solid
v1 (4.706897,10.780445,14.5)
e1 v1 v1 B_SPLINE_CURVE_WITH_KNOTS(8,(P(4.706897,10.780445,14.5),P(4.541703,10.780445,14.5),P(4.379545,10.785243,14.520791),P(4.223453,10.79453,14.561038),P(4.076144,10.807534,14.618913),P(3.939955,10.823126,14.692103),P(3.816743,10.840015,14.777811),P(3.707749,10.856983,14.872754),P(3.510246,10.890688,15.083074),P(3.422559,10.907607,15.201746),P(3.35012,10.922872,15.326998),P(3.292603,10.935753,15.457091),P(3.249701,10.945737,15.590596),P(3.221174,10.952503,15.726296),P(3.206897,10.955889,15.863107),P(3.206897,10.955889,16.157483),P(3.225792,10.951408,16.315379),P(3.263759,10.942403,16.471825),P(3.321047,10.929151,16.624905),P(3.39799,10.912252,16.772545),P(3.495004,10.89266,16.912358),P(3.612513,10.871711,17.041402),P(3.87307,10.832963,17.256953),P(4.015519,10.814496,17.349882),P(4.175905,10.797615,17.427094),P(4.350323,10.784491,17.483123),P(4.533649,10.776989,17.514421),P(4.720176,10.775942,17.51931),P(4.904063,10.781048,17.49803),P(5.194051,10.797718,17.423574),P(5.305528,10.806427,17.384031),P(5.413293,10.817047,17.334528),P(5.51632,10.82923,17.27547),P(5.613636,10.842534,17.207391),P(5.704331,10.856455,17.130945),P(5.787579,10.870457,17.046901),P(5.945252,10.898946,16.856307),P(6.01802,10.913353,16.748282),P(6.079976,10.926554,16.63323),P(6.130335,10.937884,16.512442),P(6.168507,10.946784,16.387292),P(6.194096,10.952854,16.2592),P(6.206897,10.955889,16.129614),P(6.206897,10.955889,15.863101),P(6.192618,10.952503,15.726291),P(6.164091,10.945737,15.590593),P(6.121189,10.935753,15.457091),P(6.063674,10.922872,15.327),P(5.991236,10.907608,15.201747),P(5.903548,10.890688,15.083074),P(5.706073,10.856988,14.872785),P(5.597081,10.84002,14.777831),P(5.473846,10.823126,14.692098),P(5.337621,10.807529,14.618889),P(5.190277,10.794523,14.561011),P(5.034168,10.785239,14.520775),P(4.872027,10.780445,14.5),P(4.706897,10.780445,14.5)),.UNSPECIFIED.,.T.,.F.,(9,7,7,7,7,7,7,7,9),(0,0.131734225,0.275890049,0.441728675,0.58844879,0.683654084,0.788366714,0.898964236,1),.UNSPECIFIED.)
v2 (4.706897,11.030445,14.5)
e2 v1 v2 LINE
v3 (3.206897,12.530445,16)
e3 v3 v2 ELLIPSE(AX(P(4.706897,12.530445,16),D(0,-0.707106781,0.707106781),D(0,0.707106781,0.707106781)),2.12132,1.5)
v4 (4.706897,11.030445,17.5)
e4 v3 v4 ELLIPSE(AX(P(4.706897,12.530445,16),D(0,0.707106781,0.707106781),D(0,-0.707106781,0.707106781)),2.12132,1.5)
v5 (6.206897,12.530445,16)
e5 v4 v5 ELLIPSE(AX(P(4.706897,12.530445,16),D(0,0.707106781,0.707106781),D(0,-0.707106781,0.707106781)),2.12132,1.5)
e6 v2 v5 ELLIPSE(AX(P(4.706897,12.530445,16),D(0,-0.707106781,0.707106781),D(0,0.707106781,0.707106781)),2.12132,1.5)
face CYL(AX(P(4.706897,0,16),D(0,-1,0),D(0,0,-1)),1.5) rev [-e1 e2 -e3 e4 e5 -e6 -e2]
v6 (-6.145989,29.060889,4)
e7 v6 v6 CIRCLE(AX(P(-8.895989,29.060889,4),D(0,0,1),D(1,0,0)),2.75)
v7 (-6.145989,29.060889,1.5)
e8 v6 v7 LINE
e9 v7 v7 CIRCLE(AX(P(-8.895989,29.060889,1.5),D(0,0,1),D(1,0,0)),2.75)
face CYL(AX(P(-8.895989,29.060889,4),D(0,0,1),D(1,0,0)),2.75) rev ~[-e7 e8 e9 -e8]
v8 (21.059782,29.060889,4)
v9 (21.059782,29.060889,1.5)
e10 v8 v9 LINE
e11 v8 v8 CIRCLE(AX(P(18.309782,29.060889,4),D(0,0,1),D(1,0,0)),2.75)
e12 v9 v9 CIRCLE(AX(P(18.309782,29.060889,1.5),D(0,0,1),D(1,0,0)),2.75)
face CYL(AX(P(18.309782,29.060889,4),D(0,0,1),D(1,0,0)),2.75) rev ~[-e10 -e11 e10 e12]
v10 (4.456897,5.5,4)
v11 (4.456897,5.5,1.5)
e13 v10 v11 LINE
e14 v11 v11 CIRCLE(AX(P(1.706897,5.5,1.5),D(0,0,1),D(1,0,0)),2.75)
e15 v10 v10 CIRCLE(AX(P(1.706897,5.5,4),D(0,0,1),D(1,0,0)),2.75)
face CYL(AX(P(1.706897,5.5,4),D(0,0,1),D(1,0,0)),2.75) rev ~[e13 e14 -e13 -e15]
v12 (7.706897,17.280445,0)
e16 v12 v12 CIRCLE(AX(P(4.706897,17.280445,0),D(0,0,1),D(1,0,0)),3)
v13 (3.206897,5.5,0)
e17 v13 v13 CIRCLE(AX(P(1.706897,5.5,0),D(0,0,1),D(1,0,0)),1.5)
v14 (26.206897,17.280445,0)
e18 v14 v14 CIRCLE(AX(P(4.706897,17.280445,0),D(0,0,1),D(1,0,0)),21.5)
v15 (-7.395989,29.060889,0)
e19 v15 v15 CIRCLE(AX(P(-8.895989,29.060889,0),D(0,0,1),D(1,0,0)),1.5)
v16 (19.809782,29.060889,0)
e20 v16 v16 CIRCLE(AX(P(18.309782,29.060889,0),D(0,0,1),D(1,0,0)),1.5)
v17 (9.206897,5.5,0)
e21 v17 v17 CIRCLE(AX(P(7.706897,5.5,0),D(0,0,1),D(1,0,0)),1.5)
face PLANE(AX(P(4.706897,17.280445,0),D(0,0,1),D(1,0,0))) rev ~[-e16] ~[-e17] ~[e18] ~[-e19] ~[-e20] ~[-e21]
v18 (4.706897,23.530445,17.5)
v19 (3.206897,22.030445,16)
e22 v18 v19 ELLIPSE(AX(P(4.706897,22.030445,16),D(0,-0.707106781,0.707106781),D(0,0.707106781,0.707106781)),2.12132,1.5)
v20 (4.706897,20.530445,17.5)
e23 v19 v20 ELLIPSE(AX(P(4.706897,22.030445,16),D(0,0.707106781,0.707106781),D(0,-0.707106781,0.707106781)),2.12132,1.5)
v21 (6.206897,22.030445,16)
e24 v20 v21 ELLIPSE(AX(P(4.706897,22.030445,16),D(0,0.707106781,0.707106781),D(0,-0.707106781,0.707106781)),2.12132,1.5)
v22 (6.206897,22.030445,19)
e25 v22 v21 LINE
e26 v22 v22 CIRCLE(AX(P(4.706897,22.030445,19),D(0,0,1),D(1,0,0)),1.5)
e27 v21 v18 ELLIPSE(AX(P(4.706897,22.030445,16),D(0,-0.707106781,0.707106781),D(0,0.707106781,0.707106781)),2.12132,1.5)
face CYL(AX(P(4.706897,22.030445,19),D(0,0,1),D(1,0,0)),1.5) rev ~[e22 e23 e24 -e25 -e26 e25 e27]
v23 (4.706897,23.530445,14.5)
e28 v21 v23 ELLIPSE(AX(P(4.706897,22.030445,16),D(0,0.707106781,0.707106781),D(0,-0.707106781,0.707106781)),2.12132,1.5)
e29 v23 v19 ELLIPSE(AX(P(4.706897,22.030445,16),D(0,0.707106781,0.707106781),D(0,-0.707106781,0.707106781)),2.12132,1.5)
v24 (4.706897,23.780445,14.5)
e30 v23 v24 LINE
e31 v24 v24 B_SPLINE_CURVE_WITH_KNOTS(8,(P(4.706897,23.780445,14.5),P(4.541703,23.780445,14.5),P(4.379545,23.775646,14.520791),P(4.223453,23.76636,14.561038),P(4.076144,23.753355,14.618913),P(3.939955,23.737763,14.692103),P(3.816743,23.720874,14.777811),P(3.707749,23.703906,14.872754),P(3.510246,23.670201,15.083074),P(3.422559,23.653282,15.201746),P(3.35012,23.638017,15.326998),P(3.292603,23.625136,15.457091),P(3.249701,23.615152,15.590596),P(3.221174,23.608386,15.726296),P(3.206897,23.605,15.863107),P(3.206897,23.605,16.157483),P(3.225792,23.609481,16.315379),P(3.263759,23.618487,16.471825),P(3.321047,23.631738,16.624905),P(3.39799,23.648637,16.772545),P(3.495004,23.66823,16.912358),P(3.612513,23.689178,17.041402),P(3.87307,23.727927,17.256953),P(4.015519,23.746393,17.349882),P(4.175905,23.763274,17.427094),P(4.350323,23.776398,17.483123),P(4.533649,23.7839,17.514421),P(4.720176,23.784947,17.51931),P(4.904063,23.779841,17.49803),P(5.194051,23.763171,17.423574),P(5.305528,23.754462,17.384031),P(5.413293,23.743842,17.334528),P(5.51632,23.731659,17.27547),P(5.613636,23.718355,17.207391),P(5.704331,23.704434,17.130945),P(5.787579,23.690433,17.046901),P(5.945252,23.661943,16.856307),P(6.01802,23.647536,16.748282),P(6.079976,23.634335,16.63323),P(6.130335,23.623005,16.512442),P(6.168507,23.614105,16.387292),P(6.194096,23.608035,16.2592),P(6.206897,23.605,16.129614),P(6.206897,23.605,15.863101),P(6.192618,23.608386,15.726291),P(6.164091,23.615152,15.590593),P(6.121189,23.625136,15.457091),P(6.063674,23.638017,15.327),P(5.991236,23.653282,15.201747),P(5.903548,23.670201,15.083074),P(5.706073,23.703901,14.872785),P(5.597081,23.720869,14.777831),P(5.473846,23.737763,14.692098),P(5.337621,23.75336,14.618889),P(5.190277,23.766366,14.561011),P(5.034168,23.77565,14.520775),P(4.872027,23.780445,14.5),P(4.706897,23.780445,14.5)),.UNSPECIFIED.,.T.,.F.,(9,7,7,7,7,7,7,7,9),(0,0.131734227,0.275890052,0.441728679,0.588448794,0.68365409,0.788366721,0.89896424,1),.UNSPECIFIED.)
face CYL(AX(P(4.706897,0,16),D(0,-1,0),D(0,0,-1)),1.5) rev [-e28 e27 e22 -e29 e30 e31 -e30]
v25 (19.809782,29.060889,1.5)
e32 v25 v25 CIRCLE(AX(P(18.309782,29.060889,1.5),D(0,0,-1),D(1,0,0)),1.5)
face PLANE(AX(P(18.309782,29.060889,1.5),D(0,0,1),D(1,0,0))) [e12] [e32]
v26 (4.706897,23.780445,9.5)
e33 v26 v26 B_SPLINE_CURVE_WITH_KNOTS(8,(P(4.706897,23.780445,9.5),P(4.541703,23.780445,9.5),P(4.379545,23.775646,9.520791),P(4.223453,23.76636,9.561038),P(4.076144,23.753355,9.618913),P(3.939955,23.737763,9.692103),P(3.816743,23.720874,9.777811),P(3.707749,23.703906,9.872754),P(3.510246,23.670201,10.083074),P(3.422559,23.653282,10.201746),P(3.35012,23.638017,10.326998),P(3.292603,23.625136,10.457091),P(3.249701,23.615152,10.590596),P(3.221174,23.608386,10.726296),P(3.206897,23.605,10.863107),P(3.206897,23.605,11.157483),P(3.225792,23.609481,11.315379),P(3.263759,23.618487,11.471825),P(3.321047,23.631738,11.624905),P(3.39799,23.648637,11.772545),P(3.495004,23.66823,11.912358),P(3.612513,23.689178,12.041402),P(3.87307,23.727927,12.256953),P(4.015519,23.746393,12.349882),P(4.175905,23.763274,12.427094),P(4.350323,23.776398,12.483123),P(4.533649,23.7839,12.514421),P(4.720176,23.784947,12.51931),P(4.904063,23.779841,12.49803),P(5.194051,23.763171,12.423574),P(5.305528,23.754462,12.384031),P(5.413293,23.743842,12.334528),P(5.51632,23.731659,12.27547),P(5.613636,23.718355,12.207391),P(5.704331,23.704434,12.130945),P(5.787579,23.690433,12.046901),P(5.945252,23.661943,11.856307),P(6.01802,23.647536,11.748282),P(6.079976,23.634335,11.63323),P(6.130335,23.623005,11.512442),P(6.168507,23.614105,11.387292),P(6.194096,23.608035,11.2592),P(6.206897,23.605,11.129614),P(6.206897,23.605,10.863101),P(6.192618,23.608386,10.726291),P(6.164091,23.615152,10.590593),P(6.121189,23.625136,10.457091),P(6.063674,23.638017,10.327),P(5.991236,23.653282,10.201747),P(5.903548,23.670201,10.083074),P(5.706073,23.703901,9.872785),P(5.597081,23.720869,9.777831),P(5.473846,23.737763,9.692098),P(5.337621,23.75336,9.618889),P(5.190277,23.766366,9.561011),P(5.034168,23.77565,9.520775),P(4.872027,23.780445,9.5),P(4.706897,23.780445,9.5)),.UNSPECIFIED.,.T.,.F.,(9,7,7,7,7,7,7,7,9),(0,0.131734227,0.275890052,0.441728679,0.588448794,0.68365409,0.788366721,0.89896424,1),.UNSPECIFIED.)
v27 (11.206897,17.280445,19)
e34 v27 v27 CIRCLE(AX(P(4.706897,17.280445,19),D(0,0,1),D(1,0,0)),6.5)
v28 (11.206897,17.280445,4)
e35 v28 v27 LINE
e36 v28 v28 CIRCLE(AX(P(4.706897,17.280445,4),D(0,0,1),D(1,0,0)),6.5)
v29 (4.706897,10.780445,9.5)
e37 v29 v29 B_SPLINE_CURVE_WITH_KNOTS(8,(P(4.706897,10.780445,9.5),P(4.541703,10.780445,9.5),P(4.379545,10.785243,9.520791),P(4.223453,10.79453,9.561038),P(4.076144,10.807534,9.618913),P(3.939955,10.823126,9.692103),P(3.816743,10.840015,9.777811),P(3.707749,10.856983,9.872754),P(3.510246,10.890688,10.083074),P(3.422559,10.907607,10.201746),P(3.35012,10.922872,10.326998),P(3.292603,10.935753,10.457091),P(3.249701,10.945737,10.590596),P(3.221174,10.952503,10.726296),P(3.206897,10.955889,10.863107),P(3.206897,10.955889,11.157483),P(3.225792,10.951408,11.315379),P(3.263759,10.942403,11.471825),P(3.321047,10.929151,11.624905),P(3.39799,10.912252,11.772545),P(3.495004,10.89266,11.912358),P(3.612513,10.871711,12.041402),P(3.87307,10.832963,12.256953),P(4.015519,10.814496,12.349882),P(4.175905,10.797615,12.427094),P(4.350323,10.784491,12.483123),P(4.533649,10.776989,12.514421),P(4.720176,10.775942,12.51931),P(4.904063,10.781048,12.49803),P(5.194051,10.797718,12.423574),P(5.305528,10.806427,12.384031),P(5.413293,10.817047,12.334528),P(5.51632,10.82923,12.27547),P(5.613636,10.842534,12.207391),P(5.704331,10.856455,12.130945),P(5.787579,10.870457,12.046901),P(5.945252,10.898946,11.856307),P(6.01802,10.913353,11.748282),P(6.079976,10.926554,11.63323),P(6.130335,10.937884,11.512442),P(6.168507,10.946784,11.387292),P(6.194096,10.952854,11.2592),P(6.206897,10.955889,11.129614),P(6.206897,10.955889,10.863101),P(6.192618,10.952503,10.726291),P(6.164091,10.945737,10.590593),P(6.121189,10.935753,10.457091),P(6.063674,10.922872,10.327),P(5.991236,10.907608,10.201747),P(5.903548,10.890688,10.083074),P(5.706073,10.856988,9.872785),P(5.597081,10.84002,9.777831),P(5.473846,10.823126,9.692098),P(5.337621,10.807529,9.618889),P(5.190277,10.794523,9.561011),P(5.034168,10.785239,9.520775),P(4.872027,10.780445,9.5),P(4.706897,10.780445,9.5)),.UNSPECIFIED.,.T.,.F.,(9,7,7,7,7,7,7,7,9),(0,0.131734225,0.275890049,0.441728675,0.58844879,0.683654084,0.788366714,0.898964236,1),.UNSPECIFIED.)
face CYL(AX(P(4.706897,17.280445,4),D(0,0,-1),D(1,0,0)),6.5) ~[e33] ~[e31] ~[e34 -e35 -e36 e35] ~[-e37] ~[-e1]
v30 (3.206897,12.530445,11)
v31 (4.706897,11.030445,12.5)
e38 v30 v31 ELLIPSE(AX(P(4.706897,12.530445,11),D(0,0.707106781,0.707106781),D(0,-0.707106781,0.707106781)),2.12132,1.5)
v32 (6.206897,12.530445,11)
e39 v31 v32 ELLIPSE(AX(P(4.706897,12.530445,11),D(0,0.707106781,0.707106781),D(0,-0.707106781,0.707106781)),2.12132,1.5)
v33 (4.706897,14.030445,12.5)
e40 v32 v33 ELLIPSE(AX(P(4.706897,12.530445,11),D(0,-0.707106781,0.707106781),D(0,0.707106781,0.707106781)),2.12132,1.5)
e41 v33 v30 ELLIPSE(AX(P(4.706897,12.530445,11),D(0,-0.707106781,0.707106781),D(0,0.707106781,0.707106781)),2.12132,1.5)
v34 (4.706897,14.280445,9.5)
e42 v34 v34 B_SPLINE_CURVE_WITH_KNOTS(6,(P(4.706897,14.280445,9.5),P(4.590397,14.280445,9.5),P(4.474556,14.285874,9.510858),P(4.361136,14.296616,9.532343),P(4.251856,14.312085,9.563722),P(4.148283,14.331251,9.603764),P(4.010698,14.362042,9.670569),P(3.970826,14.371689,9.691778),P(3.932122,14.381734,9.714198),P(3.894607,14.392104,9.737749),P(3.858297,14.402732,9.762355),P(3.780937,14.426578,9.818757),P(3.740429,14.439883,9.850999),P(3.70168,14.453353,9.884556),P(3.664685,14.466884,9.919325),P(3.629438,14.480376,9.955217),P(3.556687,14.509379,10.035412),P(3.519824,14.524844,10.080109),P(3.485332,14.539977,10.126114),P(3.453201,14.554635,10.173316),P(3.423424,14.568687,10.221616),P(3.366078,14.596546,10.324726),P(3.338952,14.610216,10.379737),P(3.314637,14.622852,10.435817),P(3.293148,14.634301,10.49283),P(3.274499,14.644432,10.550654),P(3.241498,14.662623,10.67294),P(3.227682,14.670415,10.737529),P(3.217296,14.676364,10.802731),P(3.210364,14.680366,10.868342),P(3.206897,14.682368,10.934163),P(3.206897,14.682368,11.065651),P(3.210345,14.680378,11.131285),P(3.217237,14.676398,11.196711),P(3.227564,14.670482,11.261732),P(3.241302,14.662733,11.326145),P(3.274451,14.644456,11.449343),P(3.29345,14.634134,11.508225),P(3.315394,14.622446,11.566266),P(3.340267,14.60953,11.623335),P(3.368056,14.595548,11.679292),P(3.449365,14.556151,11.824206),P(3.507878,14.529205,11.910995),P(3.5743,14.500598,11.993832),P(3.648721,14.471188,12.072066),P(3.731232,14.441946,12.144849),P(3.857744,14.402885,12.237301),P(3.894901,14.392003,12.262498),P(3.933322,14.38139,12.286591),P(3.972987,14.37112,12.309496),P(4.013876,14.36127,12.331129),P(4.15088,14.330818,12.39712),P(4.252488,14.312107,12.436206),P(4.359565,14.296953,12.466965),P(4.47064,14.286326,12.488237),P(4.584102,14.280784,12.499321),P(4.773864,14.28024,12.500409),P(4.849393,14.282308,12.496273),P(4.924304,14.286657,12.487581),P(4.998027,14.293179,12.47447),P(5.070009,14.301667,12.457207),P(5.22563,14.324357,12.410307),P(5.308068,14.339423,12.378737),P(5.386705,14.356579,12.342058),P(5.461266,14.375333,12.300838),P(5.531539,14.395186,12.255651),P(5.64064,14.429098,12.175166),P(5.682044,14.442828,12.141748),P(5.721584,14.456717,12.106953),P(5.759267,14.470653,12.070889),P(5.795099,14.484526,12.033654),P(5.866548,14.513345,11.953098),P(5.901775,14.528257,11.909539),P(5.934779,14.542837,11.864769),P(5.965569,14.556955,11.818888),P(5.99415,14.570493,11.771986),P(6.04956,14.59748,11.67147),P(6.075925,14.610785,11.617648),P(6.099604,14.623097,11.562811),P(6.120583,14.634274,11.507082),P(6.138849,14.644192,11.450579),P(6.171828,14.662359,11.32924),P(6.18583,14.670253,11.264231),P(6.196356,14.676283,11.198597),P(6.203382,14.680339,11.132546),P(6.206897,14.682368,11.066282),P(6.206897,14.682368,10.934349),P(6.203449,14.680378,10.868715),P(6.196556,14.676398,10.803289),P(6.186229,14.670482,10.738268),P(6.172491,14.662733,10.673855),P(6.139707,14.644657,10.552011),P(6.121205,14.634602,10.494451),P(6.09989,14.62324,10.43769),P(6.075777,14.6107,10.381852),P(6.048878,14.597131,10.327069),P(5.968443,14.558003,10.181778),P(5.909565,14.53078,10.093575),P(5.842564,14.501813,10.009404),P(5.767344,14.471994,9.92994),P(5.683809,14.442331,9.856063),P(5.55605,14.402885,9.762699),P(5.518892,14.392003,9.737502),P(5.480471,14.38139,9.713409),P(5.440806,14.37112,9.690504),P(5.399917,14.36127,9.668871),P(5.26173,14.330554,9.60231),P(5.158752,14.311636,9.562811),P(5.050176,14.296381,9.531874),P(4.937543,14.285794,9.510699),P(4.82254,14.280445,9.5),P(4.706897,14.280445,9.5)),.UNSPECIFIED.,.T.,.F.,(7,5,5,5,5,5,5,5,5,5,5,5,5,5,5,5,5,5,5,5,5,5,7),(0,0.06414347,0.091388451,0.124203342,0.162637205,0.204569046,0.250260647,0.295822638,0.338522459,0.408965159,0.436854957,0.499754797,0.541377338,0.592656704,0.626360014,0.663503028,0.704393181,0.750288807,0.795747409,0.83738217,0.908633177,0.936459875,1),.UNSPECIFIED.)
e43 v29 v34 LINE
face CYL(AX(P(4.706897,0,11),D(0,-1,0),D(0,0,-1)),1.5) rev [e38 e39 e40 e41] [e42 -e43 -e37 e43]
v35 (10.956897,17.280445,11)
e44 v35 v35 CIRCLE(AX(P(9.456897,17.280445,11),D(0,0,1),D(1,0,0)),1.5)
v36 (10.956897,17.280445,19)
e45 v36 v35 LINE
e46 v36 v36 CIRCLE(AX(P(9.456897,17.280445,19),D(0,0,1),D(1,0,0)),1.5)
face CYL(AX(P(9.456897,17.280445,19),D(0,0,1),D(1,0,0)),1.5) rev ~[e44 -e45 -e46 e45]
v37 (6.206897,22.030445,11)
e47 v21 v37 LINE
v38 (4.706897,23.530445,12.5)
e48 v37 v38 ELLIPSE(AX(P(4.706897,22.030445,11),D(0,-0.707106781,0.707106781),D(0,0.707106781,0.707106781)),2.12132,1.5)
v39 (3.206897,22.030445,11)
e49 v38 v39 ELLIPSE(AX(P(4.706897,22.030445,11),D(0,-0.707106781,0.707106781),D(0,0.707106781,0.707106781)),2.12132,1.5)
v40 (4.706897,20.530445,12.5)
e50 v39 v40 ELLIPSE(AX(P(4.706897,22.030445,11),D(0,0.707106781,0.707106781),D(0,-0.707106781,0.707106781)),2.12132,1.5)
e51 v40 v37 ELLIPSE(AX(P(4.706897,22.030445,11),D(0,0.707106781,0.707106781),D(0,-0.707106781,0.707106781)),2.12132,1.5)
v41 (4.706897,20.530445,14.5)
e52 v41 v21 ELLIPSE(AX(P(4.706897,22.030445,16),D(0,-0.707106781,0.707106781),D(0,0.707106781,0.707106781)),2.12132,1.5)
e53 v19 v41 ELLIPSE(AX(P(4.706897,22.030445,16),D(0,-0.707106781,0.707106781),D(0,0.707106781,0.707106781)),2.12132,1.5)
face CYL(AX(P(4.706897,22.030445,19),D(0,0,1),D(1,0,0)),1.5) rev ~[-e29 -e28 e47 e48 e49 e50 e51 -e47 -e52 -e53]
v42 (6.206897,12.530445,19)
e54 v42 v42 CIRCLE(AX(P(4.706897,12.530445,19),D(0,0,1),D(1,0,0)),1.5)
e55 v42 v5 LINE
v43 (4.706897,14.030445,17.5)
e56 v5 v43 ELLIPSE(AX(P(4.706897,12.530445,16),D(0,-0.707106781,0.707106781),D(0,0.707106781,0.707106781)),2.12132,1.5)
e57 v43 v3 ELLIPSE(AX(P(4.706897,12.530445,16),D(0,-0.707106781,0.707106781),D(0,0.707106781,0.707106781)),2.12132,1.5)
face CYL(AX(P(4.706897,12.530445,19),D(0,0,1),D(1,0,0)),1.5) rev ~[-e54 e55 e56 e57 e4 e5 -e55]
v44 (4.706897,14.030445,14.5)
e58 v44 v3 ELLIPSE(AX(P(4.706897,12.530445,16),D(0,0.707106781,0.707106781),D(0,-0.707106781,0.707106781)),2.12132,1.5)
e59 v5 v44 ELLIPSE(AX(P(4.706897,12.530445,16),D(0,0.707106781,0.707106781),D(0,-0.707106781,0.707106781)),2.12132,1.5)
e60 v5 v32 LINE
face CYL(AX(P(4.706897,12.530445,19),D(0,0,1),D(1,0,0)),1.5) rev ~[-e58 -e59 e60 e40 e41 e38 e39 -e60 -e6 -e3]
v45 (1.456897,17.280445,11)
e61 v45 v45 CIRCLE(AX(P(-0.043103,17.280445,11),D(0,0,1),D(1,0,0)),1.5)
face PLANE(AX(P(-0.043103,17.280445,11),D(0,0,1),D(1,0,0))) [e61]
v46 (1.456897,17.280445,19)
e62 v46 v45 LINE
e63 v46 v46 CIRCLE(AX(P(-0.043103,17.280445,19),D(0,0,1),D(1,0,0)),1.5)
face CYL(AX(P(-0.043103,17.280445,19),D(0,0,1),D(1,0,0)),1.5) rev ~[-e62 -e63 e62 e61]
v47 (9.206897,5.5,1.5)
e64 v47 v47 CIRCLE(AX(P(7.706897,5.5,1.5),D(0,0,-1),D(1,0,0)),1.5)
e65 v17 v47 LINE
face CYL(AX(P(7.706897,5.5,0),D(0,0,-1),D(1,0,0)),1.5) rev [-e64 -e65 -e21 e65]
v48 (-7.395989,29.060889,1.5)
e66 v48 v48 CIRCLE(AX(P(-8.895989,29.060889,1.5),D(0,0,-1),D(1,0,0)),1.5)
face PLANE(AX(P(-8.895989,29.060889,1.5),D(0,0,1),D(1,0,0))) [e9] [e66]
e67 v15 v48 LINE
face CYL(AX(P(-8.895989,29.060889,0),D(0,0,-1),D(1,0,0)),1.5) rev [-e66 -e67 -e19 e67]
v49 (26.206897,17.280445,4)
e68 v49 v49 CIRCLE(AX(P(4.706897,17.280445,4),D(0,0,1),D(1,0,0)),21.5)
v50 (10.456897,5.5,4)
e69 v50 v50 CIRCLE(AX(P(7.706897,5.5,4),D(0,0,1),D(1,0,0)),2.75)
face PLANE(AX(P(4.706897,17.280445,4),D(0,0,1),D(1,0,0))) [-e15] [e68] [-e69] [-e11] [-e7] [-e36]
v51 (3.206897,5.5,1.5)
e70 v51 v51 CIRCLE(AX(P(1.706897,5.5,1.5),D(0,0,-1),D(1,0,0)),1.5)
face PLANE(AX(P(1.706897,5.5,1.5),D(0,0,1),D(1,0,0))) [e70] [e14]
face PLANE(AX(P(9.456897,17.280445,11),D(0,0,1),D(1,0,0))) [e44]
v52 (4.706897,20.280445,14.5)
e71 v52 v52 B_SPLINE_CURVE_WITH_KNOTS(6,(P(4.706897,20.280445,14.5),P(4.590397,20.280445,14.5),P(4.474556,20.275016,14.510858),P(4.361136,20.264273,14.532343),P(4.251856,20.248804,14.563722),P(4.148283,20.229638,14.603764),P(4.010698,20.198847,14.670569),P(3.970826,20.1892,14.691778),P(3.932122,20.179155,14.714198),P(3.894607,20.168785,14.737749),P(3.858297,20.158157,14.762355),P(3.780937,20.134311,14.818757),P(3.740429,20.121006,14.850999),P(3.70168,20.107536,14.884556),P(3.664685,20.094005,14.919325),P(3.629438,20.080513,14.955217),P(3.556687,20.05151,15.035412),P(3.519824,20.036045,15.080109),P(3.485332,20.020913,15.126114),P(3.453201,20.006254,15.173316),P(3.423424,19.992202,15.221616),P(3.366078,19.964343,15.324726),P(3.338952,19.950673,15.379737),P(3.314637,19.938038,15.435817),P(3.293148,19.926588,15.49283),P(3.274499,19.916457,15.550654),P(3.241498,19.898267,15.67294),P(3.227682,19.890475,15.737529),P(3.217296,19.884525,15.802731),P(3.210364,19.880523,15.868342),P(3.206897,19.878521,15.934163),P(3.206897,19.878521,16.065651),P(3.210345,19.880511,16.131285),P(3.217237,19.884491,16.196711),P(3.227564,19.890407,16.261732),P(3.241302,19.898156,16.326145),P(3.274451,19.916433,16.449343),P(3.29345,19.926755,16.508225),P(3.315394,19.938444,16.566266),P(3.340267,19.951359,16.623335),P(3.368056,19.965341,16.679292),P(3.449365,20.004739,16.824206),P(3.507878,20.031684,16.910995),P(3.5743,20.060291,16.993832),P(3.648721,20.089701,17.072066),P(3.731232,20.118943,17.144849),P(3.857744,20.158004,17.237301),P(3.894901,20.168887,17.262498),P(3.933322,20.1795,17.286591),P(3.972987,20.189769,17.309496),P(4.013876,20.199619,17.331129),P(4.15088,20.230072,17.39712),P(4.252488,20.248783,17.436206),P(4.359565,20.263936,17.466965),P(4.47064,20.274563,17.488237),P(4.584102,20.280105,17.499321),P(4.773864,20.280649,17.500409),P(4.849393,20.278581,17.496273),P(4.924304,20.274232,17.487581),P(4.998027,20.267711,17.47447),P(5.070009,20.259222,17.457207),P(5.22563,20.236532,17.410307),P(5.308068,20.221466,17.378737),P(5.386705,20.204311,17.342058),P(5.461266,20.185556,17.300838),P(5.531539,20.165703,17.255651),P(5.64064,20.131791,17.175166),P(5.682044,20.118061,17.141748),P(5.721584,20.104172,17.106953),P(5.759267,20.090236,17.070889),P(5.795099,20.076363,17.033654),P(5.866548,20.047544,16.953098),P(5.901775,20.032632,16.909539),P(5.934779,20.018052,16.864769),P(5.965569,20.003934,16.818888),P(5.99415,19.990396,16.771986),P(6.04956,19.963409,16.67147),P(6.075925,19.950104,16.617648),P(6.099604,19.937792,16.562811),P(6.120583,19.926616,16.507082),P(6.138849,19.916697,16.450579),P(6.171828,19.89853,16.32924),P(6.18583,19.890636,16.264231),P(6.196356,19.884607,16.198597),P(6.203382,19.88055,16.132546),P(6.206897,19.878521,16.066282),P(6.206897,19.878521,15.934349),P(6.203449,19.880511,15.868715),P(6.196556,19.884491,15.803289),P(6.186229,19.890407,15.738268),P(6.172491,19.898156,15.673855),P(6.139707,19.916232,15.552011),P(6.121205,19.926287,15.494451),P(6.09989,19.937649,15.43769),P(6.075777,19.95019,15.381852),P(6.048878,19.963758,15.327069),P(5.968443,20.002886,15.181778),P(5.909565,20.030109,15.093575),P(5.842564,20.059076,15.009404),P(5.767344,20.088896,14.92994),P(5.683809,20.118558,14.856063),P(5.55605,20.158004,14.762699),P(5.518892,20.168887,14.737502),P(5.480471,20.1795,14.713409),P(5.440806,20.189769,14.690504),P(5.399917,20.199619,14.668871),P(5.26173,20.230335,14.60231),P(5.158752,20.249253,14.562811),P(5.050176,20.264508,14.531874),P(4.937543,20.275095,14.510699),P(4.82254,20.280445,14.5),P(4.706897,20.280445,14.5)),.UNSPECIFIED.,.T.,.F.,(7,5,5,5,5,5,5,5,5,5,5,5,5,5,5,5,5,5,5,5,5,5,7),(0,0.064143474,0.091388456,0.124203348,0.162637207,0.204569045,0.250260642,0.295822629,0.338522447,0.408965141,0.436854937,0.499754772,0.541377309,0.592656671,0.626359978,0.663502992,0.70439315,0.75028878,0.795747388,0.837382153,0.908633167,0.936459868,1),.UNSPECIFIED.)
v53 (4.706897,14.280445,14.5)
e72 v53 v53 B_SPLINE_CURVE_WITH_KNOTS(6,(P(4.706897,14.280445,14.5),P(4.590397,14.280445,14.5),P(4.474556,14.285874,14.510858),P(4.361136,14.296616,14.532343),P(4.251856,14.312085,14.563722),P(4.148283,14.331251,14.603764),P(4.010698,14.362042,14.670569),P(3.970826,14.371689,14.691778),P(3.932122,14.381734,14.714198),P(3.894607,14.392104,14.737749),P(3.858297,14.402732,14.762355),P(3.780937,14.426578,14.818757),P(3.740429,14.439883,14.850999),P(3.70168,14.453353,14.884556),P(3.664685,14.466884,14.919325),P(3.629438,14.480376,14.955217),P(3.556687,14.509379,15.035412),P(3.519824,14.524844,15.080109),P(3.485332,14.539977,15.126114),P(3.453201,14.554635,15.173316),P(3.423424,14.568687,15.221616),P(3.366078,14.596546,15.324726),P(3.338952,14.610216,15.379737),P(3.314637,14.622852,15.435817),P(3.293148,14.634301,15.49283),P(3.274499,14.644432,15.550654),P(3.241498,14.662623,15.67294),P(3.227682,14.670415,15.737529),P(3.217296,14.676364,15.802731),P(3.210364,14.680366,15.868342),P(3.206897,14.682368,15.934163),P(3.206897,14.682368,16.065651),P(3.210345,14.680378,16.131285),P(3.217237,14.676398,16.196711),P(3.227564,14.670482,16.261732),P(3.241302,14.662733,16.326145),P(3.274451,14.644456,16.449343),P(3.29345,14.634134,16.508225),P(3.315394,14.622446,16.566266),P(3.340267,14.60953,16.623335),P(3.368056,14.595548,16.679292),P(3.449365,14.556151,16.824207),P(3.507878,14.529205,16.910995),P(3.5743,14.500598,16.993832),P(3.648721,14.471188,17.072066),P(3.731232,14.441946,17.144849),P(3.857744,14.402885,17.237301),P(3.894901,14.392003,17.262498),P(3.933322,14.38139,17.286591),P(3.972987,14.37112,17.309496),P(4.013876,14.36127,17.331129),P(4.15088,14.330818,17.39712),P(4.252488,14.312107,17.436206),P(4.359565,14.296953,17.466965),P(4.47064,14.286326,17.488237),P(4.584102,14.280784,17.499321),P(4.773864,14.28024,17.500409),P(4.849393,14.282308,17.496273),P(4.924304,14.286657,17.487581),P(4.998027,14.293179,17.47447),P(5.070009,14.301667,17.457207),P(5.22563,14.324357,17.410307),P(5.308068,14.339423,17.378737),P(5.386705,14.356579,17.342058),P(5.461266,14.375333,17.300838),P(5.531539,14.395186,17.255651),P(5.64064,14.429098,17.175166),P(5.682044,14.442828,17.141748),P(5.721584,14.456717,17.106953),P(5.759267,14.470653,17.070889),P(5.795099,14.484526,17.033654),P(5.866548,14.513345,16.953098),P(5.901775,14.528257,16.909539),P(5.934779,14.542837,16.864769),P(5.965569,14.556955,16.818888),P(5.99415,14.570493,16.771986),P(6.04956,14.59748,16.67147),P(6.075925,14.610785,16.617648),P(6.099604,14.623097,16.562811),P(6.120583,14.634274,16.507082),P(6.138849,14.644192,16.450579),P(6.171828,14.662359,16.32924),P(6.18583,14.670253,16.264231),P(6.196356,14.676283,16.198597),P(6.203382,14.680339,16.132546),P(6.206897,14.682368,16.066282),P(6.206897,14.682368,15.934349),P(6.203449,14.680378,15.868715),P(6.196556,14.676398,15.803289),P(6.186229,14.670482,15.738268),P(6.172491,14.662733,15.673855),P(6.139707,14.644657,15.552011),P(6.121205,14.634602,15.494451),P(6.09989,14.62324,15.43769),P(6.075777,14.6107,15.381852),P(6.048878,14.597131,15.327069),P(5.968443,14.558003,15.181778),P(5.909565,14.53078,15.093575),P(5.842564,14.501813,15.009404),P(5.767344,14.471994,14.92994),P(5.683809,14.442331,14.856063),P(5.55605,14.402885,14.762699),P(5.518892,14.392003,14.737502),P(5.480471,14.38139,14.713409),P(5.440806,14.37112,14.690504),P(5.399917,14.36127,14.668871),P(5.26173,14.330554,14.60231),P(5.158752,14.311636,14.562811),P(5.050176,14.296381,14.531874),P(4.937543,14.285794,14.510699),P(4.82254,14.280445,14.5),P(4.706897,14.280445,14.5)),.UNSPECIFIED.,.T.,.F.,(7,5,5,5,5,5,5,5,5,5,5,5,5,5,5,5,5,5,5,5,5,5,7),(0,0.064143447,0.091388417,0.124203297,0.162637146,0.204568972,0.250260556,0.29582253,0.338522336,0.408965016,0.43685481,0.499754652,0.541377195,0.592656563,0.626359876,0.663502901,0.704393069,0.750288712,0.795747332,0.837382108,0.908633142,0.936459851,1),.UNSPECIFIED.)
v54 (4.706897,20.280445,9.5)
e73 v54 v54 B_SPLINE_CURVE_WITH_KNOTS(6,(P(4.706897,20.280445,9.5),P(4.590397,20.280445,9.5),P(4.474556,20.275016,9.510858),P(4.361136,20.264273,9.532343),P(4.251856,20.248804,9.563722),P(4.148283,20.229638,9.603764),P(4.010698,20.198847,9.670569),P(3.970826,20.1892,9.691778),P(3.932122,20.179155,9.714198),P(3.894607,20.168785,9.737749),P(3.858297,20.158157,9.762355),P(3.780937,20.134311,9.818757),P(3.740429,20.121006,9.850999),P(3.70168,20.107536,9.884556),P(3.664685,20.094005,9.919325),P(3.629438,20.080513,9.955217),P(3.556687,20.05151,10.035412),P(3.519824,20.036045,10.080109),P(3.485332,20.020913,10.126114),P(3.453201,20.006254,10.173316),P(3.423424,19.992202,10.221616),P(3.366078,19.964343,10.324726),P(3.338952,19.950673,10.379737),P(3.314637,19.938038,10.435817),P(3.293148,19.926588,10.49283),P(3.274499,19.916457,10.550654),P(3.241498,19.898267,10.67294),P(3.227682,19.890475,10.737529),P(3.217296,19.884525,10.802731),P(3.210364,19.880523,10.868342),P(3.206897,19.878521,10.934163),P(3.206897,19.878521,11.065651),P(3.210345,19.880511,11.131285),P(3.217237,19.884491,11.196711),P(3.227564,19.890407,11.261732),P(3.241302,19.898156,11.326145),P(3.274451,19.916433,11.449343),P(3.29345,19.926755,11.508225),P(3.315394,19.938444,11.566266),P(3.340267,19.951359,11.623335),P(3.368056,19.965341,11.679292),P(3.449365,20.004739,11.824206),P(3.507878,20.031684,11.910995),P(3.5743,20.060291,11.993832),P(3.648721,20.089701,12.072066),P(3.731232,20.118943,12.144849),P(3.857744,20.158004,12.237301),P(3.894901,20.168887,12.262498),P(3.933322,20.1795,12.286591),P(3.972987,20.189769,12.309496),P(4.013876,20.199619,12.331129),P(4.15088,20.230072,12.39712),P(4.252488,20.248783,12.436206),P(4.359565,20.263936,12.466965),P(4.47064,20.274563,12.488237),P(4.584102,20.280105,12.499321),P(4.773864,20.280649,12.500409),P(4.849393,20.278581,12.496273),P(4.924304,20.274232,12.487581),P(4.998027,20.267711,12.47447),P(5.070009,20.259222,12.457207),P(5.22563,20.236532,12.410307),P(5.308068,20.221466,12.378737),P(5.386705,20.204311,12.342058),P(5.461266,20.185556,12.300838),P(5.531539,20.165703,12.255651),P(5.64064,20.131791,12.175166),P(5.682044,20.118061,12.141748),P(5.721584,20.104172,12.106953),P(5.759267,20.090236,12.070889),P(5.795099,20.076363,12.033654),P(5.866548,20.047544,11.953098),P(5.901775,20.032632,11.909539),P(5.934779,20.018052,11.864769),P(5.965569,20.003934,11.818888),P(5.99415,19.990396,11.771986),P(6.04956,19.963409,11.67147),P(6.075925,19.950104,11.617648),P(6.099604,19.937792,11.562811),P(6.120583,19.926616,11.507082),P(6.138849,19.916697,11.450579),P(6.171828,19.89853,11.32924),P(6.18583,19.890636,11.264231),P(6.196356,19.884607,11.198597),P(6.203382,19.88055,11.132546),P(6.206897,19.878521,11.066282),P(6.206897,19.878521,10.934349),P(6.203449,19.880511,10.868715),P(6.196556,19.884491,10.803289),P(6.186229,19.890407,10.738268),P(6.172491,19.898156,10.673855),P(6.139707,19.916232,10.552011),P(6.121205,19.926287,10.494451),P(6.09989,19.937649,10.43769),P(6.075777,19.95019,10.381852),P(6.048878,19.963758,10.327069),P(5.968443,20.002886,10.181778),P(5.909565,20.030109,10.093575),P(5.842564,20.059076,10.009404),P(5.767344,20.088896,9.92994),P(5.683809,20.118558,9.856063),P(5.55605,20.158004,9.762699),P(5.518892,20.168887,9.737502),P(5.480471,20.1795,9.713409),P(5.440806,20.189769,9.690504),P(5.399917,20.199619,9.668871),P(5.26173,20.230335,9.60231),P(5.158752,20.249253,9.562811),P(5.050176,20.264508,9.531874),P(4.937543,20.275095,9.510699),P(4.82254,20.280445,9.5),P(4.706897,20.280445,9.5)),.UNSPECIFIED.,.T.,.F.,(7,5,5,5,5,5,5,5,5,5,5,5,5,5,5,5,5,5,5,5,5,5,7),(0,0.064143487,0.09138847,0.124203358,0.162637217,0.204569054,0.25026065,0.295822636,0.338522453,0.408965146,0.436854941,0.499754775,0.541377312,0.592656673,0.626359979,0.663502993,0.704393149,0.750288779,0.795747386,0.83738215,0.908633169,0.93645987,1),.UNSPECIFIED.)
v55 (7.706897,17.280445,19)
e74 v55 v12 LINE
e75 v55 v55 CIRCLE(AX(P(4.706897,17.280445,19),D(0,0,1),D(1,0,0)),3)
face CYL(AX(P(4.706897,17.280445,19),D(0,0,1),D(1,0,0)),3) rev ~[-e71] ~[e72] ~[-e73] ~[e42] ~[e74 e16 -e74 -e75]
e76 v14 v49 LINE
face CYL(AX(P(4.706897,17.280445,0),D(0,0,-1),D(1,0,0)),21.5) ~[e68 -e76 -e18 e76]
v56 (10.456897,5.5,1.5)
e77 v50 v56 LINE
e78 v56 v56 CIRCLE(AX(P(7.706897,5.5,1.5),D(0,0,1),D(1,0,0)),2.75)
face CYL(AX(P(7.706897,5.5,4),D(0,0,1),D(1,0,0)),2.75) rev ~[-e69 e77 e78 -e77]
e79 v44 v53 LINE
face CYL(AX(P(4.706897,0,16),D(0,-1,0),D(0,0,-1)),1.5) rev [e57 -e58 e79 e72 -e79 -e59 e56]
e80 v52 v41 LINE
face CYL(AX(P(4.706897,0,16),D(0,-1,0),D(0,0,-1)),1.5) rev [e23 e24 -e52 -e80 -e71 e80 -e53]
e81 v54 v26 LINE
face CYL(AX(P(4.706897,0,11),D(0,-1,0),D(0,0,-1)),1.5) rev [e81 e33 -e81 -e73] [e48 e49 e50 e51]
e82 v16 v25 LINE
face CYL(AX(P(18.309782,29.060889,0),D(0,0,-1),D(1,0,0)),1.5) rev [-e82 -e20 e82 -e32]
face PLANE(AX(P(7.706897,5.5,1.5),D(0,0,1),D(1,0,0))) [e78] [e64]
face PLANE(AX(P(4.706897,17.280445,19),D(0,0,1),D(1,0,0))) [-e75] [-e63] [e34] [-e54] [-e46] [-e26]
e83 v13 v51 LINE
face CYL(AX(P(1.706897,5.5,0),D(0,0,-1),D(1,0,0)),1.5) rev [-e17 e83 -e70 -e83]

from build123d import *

# Parameters (mm, degrees)
SKETCH2_R           = 21.5
SKETCH2_R_2         = 1.5
SKETCH2_R_3         = 1.499999999
BOSS_EXTRUDE1_DEPTH = 4
SKETCH4_R           = 2.75
CUT_EXTRUDE1_DEPTH  = 2.5
SKETCH6_R           = 6.5
BOSS_EXTRUDE2_DEPTH = 15
SKETCH8_R           = 3
CUT_EXTRUDE2_DEPTH  = 61
SKETCH9_R           = 1.5
CUT_EXTRUDE3_DEPTH  = 8
SKETCH11_R          = 1.5
CUT_EXTRUDE5_DEPTH  = 29.064832946


with BuildPart() as part:
    # Sketch2 → Boss-Extrude1 (new body)
    with BuildSketch(Plane.XY):
        with Locations((4.706896552, 17.280444568)):
            Circle(SKETCH2_R)
        with Locations((-8.895989131, 29.060889133)):
            Circle(SKETCH2_R_2, mode=Mode.SUBTRACT)
        with Locations((18.309782235, 29.060889133)):
            Circle(SKETCH2_R_3, mode=Mode.SUBTRACT)
        with Locations((1.706896552, 5.5)):
            Circle(SKETCH2_R_2, mode=Mode.SUBTRACT)
        with Locations((7.706896552, 5.5)):
            Circle(SKETCH2_R_2, mode=Mode.SUBTRACT)
    extrude(amount=BOSS_EXTRUDE1_DEPTH)

    # Sketch4 → Cut-Extrude1 (cut)
    with BuildSketch(Plane.XY.offset(4)):
        with Locations((-8.895989131, 29.060889133)):
            Circle(SKETCH4_R)
        with Locations((18.309782235, 29.060889133)):
            Circle(SKETCH4_R)
        with Locations((7.706896552, 5.5)):
            Circle(SKETCH4_R)
        with Locations((1.706896552, 5.5)):
            Circle(SKETCH4_R)
    extrude(amount=-CUT_EXTRUDE1_DEPTH, mode=Mode.SUBTRACT)

    # Sketch6 → Boss-Extrude2 (add)
    with BuildSketch(Plane.XY.offset(4)):
        with Locations((4.706896552, 17.280444568)):
            Circle(SKETCH6_R)
    extrude(amount=BOSS_EXTRUDE2_DEPTH)

    # Sketch8 → Cut-Extrude2 (cut)
    with BuildSketch(Plane.XY.offset(19)):
        with Locations((4.706896552, 17.280444568)):
            Circle(SKETCH8_R)
    extrude(amount=-CUT_EXTRUDE2_DEPTH, mode=Mode.SUBTRACT)

    # Sketch9 → Cut-Extrude3 (cut)
    with BuildSketch(Plane.XY.offset(19)):
        with Locations((4.706896552, 22.030444568)):
            Circle(SKETCH9_R)
        with Locations((9.456896552, 17.280444568)):
            Circle(SKETCH9_R)
        with Locations((4.706896552, 12.530444568)):
            Circle(SKETCH9_R)
        with Locations((-0.043103448, 17.280444568)):
            Circle(SKETCH9_R)
    extrude(amount=-CUT_EXTRUDE3_DEPTH, mode=Mode.SUBTRACT)

    # Sketch11 → Cut-Extrude5 (cut)
    with BuildSketch(Plane(origin=(0, 0, 0), x_dir=(1, 0, 0), z_dir=(0, 1, 0))):
        with Locations(Location((4.706896552, -16, 0), (0, 0, 90))):
            Circle(SKETCH11_R)
        with Locations(Location((4.706896552, -11, 0), (0, 0, 90))):
            Circle(SKETCH11_R)
    extrude(amount=CUT_EXTRUDE5_DEPTH, mode=Mode.SUBTRACT)


solid = part.part
